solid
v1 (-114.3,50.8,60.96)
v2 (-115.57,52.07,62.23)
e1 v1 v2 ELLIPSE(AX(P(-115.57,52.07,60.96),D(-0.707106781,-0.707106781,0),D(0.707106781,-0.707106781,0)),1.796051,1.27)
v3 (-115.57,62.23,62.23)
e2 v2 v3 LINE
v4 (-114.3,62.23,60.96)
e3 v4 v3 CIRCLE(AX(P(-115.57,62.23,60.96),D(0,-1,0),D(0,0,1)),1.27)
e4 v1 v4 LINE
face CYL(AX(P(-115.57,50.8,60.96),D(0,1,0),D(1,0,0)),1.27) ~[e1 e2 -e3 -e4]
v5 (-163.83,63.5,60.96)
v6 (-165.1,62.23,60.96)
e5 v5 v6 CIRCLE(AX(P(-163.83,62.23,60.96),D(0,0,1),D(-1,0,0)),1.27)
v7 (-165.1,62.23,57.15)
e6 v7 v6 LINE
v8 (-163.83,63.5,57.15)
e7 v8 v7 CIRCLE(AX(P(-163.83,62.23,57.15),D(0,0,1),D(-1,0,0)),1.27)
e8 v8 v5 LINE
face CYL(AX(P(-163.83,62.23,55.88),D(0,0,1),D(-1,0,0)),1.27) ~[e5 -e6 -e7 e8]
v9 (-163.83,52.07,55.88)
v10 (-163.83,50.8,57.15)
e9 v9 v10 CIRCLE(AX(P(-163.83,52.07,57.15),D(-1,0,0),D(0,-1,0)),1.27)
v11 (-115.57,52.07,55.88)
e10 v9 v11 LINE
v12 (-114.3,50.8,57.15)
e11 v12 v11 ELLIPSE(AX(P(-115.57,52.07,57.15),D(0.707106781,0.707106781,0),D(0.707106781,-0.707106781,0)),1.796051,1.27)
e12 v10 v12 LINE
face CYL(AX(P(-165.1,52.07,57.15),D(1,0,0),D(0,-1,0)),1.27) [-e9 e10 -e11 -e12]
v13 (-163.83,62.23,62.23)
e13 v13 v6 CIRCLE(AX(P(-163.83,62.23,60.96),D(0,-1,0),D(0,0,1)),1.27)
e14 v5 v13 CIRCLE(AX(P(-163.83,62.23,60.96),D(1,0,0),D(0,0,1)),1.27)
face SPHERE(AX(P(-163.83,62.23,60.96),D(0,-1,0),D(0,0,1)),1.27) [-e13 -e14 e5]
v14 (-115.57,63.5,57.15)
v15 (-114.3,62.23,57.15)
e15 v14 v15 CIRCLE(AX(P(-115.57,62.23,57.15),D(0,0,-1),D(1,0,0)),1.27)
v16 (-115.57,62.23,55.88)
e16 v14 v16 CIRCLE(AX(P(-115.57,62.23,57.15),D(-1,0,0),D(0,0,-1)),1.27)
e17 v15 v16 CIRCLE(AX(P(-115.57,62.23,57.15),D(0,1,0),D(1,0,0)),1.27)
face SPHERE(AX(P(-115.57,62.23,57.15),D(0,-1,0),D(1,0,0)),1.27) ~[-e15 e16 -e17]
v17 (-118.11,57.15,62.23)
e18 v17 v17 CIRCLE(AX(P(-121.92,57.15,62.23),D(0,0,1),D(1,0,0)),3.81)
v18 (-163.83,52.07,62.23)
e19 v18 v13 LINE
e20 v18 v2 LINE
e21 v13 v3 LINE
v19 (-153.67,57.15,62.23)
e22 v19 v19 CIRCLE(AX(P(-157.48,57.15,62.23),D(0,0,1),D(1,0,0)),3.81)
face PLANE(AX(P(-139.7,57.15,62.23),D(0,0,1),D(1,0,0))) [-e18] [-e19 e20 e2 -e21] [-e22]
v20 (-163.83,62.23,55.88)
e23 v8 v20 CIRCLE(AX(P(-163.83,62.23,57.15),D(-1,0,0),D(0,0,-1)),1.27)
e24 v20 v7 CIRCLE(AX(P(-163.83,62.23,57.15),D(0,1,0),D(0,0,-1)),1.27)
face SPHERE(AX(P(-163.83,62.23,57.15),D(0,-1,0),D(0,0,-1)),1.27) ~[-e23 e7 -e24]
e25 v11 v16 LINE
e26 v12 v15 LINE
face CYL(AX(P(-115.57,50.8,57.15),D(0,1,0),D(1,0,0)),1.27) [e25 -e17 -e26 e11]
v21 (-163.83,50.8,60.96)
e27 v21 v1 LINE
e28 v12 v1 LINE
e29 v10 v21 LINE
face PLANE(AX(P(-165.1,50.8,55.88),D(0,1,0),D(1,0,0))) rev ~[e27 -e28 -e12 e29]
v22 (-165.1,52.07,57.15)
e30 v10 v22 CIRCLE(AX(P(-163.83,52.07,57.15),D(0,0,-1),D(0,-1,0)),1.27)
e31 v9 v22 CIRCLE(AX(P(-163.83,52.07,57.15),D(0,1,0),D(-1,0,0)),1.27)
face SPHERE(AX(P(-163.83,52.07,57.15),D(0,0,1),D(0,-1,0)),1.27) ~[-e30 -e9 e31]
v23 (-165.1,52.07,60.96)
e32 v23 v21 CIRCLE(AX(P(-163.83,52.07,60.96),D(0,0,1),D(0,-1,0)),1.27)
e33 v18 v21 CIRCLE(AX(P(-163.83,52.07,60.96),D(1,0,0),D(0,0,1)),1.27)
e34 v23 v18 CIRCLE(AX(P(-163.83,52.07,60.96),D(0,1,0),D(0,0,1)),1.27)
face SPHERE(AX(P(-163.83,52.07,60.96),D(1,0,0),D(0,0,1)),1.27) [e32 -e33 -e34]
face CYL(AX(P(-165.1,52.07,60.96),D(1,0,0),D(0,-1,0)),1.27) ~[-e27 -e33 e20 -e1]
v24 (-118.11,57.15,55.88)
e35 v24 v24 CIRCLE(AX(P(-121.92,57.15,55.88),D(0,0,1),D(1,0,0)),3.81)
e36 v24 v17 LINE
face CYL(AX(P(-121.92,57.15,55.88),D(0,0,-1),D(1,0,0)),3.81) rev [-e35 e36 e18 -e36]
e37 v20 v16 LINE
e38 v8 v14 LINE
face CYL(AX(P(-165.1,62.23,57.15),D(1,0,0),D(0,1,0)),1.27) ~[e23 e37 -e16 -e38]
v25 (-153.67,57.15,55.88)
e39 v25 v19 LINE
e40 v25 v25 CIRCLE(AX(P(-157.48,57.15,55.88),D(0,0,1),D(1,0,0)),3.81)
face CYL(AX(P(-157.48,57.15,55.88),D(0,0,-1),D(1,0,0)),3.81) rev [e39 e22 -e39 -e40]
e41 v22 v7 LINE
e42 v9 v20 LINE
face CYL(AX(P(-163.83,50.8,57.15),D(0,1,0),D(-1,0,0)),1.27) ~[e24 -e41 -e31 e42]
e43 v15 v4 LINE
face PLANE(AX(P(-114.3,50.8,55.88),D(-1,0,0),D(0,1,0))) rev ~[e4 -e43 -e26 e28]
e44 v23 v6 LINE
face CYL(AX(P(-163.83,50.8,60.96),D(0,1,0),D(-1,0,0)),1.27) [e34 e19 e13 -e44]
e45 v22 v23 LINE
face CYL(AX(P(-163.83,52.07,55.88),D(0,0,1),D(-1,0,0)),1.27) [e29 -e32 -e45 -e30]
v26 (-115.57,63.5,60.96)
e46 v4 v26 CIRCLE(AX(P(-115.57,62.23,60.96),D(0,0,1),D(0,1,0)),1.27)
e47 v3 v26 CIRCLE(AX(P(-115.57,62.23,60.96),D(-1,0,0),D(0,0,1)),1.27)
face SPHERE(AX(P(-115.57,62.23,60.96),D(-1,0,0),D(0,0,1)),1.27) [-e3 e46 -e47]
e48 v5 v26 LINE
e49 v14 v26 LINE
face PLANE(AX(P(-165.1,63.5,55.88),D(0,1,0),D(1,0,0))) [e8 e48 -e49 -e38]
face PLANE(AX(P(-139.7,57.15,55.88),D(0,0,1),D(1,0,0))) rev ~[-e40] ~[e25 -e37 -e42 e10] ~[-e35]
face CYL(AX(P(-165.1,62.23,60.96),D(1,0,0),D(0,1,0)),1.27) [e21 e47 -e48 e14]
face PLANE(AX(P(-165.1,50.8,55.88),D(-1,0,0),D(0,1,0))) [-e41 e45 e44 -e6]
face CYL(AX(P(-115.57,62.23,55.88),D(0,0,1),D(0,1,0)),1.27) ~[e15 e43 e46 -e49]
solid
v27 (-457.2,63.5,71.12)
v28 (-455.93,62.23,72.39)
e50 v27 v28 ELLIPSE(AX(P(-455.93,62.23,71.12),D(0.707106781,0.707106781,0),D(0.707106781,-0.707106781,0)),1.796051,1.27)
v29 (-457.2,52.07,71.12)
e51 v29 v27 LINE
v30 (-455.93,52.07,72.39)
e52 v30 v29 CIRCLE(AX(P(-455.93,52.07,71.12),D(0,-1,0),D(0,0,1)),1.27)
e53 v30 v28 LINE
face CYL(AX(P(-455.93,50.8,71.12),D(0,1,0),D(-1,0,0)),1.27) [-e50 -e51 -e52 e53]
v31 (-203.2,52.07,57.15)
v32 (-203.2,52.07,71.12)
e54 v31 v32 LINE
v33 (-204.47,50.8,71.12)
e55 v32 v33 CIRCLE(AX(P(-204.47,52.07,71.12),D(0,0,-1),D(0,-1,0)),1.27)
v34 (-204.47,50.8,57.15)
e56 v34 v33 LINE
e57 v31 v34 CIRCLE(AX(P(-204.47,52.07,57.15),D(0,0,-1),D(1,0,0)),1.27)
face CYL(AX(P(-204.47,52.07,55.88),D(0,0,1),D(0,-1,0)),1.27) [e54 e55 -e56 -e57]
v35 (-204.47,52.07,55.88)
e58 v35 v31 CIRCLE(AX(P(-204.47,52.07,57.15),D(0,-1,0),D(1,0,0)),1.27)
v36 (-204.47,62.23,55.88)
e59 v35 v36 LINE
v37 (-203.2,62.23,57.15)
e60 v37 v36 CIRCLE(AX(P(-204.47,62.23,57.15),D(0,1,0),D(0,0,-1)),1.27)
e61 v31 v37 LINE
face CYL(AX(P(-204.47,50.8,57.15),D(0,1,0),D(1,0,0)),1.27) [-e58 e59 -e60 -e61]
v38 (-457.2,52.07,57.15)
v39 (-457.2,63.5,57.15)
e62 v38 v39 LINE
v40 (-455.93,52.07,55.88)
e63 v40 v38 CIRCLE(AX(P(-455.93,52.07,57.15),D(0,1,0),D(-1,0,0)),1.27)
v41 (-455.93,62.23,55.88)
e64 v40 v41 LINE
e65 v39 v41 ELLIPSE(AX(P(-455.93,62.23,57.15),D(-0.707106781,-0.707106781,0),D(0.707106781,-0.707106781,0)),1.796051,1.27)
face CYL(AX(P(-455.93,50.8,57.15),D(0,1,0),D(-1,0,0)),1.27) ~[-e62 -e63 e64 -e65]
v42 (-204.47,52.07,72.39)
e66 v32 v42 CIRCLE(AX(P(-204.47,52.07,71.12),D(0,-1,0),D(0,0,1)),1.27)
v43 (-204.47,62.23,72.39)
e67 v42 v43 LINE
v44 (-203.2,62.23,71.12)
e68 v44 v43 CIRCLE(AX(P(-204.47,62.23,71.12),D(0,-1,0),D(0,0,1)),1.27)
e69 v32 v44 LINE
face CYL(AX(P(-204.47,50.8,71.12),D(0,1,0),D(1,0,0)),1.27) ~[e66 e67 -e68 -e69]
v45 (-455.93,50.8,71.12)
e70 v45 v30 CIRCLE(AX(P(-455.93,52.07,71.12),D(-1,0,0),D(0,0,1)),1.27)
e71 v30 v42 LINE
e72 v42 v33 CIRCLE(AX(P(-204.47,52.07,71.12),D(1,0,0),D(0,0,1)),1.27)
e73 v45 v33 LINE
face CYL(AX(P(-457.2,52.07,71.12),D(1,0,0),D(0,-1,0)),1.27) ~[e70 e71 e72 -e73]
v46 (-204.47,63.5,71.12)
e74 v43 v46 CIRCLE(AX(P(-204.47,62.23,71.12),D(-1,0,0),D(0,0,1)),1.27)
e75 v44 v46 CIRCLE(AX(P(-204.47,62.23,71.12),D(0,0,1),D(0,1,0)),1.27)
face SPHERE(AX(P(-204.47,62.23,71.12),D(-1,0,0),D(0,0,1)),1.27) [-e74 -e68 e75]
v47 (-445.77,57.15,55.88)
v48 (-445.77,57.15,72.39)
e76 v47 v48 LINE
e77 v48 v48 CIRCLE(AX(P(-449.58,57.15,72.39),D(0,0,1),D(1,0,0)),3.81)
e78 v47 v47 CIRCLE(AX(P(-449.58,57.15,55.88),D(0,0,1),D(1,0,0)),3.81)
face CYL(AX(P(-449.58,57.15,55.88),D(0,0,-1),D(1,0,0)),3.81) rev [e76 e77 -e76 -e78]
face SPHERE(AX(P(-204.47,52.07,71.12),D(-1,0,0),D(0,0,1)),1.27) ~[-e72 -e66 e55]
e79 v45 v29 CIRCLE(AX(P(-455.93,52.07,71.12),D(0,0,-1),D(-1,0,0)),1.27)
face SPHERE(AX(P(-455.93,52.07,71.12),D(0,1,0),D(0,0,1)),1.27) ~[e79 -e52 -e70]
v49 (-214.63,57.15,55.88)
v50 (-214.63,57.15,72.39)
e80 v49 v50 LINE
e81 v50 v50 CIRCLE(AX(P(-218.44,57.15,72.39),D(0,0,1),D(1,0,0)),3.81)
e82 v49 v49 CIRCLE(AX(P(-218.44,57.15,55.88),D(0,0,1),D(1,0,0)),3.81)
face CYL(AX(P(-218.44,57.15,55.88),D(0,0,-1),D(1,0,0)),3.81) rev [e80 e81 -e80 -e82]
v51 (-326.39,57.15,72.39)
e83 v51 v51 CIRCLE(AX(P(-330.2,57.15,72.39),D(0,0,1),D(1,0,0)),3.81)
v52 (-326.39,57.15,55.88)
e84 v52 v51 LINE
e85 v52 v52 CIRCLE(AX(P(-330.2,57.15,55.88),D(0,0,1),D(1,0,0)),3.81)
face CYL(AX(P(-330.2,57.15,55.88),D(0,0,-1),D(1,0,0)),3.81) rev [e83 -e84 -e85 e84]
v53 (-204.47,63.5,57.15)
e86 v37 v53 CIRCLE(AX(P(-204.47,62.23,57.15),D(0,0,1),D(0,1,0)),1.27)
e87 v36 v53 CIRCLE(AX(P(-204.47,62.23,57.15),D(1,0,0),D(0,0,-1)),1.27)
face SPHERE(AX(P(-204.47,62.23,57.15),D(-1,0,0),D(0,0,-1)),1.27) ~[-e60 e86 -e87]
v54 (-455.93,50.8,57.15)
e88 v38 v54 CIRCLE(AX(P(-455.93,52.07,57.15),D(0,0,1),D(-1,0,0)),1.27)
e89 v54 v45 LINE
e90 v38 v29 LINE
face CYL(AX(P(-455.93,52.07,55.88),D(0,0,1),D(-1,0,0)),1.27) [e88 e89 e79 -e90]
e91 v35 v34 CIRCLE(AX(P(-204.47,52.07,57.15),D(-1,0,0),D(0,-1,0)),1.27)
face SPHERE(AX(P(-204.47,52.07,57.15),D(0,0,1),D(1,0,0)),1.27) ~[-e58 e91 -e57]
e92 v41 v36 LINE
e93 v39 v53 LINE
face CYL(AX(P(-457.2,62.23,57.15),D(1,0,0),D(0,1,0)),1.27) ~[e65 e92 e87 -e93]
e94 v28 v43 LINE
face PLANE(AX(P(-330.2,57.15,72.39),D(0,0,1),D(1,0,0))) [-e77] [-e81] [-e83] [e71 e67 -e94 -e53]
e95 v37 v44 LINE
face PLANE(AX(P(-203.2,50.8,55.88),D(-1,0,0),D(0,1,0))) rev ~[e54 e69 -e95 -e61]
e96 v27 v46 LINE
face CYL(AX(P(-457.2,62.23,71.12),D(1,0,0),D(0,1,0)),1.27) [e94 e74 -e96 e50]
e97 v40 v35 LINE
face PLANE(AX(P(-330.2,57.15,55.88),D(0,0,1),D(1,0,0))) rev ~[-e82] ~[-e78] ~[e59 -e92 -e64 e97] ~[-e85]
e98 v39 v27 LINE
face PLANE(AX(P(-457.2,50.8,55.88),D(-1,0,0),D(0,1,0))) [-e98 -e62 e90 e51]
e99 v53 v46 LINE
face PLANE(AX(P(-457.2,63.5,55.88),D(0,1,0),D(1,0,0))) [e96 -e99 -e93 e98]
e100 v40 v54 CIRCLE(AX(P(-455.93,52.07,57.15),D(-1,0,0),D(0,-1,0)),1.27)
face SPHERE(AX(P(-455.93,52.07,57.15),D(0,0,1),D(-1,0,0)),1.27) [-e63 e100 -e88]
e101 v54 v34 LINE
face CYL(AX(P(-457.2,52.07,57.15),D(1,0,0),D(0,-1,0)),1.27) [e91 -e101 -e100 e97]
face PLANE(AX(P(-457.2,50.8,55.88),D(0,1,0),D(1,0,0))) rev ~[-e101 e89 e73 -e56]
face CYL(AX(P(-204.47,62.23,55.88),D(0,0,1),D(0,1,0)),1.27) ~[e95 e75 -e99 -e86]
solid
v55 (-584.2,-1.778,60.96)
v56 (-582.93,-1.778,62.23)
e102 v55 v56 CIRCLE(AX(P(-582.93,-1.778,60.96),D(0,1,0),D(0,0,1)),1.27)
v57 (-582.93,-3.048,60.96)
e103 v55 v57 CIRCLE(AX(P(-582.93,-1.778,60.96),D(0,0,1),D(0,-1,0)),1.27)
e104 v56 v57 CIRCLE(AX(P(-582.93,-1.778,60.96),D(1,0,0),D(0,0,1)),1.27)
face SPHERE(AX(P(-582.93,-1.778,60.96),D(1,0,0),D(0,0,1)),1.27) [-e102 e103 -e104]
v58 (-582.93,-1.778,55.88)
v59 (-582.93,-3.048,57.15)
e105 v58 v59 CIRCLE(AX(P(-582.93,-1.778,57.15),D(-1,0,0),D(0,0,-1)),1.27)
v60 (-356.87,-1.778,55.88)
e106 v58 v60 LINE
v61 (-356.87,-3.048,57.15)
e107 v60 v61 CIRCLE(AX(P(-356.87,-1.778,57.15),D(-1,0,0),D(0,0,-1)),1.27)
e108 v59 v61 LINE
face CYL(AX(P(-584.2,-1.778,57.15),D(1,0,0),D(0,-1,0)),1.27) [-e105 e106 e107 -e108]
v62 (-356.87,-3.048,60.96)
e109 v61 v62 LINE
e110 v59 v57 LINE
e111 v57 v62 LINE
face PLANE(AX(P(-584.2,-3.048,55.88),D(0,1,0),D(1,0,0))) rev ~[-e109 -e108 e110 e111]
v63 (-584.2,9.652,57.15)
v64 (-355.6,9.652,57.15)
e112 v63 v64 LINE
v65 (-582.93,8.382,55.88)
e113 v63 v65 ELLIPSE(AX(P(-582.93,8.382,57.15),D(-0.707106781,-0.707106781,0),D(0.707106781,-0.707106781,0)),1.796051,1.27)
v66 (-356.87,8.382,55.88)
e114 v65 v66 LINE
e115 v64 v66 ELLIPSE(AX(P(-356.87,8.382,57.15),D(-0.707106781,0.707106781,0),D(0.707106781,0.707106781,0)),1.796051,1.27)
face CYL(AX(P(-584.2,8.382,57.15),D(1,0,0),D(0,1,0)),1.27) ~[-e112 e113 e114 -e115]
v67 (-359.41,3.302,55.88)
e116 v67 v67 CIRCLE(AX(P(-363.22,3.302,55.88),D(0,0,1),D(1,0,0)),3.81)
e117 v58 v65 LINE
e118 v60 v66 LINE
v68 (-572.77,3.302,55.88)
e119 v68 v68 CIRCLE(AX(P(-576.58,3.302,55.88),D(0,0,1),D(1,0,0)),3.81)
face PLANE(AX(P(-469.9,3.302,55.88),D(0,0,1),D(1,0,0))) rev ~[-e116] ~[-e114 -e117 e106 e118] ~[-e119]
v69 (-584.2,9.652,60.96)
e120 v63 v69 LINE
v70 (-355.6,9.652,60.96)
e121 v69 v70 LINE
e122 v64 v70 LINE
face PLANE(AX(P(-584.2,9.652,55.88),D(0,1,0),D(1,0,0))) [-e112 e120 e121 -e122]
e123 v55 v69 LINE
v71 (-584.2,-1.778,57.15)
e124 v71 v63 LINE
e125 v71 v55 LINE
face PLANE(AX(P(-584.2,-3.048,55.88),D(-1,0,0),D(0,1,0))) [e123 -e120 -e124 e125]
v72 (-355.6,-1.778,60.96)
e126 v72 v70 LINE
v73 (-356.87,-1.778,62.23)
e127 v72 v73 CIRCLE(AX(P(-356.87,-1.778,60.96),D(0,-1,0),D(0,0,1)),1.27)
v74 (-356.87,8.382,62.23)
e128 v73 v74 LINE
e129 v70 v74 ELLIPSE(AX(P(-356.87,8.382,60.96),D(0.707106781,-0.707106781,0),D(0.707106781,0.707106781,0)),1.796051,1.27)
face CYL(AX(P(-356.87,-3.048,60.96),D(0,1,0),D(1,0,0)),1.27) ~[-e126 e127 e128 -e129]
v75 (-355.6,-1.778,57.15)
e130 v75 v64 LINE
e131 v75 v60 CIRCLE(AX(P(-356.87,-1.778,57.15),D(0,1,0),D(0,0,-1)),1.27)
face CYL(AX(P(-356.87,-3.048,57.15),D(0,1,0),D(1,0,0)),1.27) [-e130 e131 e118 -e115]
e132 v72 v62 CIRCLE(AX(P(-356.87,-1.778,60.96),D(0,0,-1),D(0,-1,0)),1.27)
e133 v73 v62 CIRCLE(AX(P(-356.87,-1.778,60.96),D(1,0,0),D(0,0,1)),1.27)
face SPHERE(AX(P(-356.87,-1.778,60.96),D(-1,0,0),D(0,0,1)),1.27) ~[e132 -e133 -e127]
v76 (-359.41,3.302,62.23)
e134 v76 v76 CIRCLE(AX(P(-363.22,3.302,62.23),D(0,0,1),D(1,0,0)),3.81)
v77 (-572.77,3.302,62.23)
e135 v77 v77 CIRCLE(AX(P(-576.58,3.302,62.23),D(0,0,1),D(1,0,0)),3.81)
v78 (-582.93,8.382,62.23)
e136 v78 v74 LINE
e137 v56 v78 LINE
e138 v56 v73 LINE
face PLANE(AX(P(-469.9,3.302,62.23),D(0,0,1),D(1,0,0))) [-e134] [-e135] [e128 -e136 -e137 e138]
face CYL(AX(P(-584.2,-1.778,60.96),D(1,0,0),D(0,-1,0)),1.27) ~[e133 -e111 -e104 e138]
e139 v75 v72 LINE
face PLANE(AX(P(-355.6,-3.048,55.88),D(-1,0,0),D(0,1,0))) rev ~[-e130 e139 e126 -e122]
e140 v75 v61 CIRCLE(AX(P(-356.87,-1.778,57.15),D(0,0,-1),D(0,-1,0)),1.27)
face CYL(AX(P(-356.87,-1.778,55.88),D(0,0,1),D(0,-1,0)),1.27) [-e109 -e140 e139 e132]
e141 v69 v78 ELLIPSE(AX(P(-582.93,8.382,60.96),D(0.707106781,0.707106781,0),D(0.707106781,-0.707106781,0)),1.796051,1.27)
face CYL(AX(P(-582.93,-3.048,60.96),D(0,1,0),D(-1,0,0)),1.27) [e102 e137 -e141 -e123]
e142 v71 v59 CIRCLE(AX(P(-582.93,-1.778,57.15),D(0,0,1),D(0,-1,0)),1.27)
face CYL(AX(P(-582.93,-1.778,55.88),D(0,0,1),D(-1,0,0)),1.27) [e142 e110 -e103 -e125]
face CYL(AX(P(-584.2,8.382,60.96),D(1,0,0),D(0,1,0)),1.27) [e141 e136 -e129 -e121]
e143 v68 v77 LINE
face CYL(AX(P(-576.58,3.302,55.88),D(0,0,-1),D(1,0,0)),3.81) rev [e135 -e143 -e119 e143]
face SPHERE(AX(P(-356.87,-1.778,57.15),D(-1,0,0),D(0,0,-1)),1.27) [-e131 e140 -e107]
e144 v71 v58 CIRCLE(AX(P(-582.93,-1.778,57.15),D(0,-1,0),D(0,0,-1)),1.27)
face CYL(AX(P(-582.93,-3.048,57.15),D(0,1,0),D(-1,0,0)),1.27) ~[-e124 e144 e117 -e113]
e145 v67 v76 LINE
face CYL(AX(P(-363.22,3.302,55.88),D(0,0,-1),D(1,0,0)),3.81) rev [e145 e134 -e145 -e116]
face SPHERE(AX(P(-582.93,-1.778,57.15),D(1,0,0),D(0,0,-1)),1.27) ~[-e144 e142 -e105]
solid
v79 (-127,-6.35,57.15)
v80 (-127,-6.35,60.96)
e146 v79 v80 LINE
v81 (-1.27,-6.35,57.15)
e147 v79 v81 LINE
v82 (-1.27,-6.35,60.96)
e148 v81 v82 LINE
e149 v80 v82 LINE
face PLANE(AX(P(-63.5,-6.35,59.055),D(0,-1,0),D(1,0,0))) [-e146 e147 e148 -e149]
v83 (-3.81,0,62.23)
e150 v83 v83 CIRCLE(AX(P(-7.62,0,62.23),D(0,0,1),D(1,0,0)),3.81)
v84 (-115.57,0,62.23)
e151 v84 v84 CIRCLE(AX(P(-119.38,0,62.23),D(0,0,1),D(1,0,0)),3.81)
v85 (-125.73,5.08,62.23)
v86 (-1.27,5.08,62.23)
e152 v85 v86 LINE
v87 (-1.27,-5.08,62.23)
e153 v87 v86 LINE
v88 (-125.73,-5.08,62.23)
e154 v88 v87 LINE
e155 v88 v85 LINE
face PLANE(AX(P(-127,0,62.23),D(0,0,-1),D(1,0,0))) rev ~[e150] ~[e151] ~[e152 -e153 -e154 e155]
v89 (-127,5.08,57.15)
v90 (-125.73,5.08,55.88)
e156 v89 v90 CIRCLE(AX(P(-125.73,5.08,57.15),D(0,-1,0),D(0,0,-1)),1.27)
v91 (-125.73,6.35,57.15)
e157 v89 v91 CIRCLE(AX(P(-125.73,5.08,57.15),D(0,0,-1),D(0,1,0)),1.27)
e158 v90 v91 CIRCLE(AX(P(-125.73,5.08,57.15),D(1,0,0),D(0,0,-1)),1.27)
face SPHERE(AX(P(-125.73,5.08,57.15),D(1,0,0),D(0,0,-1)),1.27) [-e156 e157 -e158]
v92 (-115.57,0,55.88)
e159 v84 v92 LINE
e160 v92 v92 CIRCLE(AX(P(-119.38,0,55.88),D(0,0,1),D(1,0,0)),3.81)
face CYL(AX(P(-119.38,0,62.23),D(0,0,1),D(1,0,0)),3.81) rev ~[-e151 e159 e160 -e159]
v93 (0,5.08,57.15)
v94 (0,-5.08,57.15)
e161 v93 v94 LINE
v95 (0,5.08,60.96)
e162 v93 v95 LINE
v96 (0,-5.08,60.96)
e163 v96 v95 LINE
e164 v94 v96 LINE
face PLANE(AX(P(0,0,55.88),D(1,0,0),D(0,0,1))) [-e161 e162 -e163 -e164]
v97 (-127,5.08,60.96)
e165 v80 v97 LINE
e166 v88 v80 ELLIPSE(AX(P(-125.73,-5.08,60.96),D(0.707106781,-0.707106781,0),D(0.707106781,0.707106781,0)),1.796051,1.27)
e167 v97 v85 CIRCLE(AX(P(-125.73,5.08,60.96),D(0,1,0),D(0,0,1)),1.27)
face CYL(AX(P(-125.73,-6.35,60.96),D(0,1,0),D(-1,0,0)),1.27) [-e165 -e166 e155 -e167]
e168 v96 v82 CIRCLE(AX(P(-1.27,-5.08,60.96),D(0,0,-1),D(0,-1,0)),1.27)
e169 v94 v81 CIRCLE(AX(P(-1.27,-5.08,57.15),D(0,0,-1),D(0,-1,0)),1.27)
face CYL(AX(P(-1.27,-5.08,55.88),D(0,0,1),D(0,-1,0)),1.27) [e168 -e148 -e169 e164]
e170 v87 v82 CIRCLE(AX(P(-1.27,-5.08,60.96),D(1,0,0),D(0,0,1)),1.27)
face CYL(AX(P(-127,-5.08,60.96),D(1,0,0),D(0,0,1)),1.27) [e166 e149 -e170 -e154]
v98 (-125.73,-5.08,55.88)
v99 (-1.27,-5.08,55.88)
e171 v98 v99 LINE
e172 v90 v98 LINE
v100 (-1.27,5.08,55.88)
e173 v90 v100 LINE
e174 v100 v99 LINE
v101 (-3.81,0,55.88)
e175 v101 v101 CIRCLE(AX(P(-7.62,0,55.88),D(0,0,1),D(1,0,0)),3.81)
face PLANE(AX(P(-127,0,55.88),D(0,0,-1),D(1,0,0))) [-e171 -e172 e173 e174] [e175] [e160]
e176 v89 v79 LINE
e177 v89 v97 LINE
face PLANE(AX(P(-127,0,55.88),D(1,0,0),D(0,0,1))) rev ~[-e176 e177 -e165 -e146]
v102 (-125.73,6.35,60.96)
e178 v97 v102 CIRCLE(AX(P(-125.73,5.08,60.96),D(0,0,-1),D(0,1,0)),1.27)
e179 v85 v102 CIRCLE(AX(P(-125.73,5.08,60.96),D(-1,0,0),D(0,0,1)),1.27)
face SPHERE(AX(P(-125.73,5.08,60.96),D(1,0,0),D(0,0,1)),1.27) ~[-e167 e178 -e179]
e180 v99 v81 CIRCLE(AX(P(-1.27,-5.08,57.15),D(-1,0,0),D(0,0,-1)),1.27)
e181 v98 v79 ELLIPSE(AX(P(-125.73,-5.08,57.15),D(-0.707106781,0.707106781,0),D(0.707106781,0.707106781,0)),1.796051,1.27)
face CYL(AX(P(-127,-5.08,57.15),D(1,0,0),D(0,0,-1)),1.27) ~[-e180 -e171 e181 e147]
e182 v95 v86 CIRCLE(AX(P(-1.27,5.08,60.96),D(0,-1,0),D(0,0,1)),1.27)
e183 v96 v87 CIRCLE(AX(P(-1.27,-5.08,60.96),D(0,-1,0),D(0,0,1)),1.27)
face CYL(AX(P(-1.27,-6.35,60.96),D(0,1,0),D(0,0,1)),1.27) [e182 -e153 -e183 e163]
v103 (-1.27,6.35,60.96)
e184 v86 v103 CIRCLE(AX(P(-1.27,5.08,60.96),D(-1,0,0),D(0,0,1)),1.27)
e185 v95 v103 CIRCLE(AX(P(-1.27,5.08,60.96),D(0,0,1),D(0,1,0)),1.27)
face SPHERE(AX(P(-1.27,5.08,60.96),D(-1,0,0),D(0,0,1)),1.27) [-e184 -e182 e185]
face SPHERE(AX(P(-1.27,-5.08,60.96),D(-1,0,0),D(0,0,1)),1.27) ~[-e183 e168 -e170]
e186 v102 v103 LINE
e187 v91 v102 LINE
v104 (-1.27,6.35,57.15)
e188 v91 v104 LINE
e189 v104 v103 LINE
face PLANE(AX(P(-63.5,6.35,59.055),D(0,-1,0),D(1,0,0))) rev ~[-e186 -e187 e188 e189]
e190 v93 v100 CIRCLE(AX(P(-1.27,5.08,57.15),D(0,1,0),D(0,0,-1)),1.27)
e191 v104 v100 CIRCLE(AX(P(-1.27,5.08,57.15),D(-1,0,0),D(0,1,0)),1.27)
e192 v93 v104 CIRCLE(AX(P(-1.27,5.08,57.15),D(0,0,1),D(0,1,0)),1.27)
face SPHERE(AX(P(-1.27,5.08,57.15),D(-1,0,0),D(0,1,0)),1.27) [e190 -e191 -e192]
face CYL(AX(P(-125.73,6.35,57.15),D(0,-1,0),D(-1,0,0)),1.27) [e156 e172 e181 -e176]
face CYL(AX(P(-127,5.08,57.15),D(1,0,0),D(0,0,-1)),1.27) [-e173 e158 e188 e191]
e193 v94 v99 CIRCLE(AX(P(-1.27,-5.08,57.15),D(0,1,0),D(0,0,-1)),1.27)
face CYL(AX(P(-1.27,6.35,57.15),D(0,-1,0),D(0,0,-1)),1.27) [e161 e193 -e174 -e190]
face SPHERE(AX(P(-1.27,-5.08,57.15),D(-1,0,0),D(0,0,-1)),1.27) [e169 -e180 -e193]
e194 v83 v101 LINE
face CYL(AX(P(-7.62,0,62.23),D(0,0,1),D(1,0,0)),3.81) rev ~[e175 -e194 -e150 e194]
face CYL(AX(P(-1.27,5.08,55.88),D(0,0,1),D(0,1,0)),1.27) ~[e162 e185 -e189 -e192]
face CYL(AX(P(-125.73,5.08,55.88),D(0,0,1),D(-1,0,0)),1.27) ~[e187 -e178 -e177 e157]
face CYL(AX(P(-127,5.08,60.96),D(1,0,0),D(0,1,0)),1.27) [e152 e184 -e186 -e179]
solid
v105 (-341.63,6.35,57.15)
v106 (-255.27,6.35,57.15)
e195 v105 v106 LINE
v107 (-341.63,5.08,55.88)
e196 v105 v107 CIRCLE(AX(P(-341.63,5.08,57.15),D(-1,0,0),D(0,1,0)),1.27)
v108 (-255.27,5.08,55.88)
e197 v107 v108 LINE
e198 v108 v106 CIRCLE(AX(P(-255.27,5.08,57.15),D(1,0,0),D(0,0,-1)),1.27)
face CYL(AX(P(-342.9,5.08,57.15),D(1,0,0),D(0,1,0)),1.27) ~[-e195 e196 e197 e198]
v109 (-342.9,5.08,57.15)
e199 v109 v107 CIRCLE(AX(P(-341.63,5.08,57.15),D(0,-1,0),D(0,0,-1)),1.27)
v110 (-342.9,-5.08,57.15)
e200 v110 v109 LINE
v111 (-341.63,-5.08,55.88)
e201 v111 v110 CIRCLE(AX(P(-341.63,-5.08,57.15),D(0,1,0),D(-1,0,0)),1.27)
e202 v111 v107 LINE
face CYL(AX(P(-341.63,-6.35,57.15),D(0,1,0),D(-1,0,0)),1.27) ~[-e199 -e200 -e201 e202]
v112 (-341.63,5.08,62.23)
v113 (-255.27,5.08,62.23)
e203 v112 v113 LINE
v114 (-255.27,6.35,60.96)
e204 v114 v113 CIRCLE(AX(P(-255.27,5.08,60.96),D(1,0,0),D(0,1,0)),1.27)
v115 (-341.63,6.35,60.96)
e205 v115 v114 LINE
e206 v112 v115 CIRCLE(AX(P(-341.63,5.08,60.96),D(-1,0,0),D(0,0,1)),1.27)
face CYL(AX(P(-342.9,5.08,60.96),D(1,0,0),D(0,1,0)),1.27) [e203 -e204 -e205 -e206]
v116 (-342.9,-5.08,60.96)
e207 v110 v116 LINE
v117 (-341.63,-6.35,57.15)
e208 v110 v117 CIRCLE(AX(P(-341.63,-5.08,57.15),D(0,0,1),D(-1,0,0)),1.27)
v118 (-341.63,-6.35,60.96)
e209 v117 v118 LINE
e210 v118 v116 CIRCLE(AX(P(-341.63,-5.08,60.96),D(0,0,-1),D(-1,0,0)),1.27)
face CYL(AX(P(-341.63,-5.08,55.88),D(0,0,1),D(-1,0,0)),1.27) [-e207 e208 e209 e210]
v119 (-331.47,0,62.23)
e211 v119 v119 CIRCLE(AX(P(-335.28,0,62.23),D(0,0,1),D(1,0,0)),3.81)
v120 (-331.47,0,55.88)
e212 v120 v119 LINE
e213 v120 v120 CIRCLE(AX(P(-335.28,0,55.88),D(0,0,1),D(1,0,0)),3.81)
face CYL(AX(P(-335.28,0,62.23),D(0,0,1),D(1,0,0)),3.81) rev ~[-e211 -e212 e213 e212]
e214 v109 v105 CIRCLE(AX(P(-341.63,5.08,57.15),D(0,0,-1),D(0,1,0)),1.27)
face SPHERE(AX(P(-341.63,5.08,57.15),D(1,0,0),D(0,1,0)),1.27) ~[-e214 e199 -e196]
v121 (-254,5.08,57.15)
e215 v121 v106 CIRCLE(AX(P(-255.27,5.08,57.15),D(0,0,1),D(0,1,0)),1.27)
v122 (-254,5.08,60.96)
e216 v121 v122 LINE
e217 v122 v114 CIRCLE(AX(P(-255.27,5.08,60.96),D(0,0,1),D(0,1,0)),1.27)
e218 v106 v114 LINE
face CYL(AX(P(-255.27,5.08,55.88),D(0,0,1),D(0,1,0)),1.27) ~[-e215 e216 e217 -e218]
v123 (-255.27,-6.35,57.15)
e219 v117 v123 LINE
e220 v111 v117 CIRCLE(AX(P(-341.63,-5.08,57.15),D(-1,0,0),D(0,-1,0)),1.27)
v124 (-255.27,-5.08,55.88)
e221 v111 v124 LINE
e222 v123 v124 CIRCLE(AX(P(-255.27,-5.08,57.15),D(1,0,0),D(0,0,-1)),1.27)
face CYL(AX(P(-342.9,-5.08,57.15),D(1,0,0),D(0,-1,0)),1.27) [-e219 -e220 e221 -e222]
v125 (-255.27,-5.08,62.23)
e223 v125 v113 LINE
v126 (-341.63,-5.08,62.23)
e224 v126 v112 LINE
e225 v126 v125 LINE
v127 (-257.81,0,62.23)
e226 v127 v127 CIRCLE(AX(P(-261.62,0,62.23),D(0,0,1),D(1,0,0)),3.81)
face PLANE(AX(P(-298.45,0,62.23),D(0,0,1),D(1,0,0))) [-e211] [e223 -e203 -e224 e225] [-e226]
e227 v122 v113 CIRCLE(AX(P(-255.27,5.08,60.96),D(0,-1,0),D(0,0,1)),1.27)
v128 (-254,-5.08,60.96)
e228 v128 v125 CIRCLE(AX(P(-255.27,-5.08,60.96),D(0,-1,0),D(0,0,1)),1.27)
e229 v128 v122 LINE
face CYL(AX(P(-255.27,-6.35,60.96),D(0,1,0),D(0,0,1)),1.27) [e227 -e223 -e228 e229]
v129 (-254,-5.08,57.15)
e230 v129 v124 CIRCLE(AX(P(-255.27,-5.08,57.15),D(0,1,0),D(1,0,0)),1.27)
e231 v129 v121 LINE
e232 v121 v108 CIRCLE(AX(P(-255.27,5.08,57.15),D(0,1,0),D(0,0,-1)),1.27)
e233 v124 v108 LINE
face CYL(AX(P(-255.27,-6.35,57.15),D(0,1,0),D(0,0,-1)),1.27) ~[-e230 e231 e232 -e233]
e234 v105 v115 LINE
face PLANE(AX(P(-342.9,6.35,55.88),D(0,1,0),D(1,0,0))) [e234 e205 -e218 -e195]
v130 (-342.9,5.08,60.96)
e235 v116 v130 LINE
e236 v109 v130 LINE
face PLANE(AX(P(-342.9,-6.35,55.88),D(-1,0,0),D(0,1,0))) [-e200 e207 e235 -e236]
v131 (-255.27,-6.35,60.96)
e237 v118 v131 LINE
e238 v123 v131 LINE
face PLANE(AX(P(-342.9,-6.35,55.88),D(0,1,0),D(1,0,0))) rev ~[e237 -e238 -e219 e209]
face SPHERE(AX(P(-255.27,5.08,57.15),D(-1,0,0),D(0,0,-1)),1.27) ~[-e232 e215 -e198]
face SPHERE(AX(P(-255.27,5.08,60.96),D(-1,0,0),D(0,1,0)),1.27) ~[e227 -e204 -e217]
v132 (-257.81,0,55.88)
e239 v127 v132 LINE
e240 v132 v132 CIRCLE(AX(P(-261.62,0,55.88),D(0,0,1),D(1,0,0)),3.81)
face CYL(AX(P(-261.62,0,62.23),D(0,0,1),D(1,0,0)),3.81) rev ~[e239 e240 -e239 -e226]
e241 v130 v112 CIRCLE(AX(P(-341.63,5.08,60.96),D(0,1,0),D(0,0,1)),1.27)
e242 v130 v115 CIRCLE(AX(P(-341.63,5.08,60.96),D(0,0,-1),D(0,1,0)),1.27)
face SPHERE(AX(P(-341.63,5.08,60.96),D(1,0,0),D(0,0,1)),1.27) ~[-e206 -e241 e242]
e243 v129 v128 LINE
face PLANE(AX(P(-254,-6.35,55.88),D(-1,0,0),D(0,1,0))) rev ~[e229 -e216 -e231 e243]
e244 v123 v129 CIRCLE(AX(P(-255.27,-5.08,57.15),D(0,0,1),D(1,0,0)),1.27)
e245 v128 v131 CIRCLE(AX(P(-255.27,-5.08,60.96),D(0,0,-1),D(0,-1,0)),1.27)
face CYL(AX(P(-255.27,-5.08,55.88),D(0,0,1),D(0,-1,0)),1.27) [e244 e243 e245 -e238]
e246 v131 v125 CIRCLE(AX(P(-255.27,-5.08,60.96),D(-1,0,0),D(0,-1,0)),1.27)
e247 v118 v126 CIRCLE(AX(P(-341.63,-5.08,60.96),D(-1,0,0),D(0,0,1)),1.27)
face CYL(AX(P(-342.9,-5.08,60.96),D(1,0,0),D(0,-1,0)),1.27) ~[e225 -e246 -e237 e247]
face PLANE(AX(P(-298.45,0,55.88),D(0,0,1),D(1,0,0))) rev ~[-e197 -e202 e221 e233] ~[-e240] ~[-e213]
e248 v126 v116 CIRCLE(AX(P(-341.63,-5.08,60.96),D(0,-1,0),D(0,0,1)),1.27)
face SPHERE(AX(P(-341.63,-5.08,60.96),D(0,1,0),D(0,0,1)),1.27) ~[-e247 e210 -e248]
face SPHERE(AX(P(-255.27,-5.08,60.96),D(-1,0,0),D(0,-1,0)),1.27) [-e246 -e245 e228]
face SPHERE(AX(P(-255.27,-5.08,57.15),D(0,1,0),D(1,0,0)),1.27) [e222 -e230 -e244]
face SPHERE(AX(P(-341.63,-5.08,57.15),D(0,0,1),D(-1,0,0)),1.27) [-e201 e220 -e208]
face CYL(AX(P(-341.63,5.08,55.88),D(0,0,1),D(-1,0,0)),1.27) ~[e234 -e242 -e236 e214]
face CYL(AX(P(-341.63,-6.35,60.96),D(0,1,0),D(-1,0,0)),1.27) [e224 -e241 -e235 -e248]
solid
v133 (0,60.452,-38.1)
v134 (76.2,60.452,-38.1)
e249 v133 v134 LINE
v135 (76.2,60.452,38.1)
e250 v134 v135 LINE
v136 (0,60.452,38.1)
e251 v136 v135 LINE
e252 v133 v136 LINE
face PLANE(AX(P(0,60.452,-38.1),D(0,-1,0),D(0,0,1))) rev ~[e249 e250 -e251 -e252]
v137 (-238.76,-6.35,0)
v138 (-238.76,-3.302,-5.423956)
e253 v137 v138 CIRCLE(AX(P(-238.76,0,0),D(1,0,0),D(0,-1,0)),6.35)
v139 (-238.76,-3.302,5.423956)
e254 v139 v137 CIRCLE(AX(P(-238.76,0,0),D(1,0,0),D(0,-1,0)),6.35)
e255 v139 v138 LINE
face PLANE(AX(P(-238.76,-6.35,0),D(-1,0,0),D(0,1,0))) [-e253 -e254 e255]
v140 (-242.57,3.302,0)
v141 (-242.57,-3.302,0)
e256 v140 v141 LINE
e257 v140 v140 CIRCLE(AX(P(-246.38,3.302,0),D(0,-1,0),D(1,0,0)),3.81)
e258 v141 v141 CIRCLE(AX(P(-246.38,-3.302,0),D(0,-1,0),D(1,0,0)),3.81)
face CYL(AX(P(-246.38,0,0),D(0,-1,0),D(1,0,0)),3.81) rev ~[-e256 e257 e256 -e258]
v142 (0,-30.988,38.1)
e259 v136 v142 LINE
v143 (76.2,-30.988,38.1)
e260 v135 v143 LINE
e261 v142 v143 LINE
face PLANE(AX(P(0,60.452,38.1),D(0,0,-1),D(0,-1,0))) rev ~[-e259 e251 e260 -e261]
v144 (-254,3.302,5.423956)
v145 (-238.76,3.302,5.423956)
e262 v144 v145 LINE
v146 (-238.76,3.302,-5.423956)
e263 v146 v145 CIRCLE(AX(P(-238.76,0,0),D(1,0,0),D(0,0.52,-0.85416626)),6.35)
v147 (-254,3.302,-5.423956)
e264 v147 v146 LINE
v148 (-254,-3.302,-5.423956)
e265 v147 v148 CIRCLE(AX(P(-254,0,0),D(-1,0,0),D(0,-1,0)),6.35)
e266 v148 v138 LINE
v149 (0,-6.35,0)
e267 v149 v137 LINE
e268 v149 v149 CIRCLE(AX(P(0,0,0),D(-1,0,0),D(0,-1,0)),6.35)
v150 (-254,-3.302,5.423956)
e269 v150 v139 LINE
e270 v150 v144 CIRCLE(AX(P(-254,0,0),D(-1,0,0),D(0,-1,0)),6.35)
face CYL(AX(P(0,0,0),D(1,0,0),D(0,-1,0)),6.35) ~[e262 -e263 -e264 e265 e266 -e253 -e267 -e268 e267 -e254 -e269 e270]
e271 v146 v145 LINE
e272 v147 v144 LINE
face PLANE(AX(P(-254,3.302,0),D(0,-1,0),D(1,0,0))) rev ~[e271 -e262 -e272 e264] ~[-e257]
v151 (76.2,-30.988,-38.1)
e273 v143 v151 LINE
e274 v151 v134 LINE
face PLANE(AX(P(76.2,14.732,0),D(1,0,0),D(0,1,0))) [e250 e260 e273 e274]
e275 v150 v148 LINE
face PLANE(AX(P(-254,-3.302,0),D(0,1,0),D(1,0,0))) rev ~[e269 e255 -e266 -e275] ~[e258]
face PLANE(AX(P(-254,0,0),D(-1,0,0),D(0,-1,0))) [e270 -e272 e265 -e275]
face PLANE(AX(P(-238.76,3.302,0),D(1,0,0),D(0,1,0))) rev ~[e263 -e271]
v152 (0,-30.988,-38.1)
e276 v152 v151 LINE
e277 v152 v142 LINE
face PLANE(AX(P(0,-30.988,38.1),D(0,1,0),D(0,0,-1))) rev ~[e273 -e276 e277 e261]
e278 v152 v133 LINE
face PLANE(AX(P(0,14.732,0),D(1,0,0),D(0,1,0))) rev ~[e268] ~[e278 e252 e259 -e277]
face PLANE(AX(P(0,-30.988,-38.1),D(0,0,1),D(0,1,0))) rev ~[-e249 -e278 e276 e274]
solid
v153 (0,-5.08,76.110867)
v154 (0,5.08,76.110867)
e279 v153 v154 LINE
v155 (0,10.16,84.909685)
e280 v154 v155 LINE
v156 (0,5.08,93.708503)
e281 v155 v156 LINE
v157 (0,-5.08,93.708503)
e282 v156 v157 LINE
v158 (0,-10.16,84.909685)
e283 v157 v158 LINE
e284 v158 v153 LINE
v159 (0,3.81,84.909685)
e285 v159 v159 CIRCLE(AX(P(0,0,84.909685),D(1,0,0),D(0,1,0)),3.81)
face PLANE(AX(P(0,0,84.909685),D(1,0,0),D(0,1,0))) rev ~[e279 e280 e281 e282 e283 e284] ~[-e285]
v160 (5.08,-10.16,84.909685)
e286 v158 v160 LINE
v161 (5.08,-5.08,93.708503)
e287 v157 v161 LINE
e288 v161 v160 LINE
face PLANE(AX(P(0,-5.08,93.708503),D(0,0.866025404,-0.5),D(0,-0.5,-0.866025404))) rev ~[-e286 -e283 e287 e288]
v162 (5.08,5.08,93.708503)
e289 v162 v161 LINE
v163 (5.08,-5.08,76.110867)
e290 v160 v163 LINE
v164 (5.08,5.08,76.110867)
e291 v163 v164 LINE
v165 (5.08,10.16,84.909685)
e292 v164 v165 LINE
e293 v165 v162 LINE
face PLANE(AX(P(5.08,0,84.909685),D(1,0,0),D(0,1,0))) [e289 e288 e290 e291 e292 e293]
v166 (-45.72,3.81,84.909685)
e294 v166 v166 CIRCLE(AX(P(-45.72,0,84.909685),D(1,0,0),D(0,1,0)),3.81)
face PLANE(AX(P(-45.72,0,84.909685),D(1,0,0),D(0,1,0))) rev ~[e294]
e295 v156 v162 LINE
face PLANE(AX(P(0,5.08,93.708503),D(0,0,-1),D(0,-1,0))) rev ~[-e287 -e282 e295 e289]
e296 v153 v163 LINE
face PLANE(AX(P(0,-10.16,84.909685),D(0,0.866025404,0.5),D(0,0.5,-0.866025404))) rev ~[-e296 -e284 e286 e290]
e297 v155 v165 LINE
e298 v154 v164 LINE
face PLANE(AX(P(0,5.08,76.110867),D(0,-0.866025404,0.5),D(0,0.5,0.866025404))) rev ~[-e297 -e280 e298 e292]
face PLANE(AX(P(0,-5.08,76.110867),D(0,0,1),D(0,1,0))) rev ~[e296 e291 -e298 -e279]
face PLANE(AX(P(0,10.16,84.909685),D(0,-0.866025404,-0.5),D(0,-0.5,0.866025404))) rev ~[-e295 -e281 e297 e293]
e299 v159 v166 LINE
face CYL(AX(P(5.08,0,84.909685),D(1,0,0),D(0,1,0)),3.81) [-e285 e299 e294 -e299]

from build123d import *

# Parameters (mm, degrees)
F0_R      = 30.988
F1_DEPTH  = 76.2
F2_R      = 6.35
F3_DEPTH  = 254
F4_R      = 3.81
F5_DEPTH  = 12.7
F6_W      = 15.24
F6_H      = 3.048
F7_DEPTH  = 12.7
F12_DEPTH = 5.08
F13_R     = 3.81
F14_DEPTH = 50.8
F8_W      = 127
F8_H      = 6.35
F15_DEPTH = 6.35
F16_R     = 3.81
F17_DEPTH = 12.7
F18_W     = 88.9
F18_H     = 12.7
F19_DEPTH = 6.35
F20_R     = 3.81
F21_DEPTH = 6.35
F22_W     = 228.6
F22_H     = 12.7
F22_R     = 3.81
F23_DEPTH = 6.35
F24_W     = 254
F24_H     = 12.7
F24_R     = 3.81
F25_DEPTH = 16.51
F26_W     = 50.8
F26_H     = 12.7
F26_R     = 3.81
F27_DEPTH = 6.35
F28_R     = 1.27
F29_R     = 1.27
F30_R     = 1.27
F30_2_R   = 1.27
F30_3_R   = 1.27
F32_DEPTH = 76.2


with BuildPart() as f1:
    # F0 (on Right) → F1 (new body)
    with BuildSketch(Plane.YZ):
        Circle(F0_R)
    extrude(amount=F1_DEPTH)

    # F2 (on face) → F3 (join)
    with BuildSketch(Plane(origin=(0, 0, 0), x_dir=(0, -1, 0), z_dir=(-1, 0, 0))):
        Circle(F2_R)
    extrude(amount=F3_DEPTH)

    # F4 (on Front) → F5 (cut, symmetric)
    with BuildSketch(Plane.XZ):
        with Locations((-246.38, 0)):
            Circle(F4_R)
    extrude(amount=F5_DEPTH, both=True, mode=Mode.SUBTRACT)

    # F6 (on Top) → F7 (cut, symmetric)
    with BuildSketch(Plane.XY):
        with Locations((-246.38, -4.826)):
            Rectangle(F6_W, F6_H)
        with Locations((-246.38, 4.826)):
            Rectangle(F6_W, F6_H)
    extrude(amount=F7_DEPTH, both=True, mode=Mode.SUBTRACT)

    # F31 (on Right) → F32 (join)
    with BuildSketch(Plane.YZ):
        Polygon((-30.988, 38.1), (-30.988, -4.05e-08), (-30.988, -38.1), (60.452, -38.1), (60.452, 38.1), align=None)
        with BuildLine():
            ThreePointArc((-30.988, -4.05e-08), (-2.03e-08, 30.988), (30.988, 0))
            ThreePointArc((30.988, 0), (2.03e-08, -30.988), (-30.988, -4.05e-08))
        make_face(mode=Mode.SUBTRACT)
        with BuildLine():
            ThreePointArc((-30.988, -4.05e-08), (2.03e-08, -30.988), (30.988, 0))
            ThreePointArc((30.988, 0), (-2.03e-08, 30.988), (-30.988, -4.05e-08))
        make_face()
    extrude(amount=F32_DEPTH)


with BuildPart() as f12:
    # F11 (on Right) → F12 (new body)
    with BuildSketch(Plane.YZ):
        Polygon((-5.08, 76.1108668536), (5.08, 76.1108668536), (10.16, 84.9096849561), (5.08, 93.7085030585), (-5.08, 93.7085030585), (-10.16, 84.9096849561), align=None)
    extrude(amount=F12_DEPTH)

    # F13 (on face) → F14 (join)
    with BuildSketch(Plane.YZ.offset(5.08)):
        with Locations((0, 84.9096849561)):
            Circle(F13_R)
    extrude(amount=-F14_DEPTH)


with BuildPart() as f15:
    # F8 (on Front) → F15 (new body, symmetric)
    with BuildSketch(Plane.XZ):
        with Locations((-63.5, 59.055)):
            Rectangle(F8_W, F8_H)
    extrude(amount=F15_DEPTH, both=True)

    # F16 (on face) → F17 (cut)
    with BuildSketch(Plane.XY.offset(62.23)):
        with Locations((-119.38, 0)):
            Circle(F16_R)
        with Locations((-7.62, 0)):
            Circle(F16_R)
    extrude(amount=-F17_DEPTH, mode=Mode.SUBTRACT)

    # F29
    f29_edges = [f15.edges().sort_by_distance(p)[0] for p in [
        (-63.5, 6.35, 62.23),
        (-63.5, -6.35, 62.23),
        (0, 0, 62.23),
        (-127, 0, 62.23),
        (-63.5, -6.35, 55.88),
        (-63.5, 6.35, 55.88),
        (-127, 0, 55.88),
        (0, 6.35, 59.055),
        (0, 0, 55.88),
        (-127, 6.35, 59.055),
        (0, -6.35, 59.055),
    ]]
    fillet(f29_edges, radius=F29_R)


with BuildPart() as f19:
    # F18 (on offset) → F19 (new body)
    with BuildSketch(Plane.XY.offset(55.88)):
        with Locations((-298.45, 0)):
            Rectangle(F18_W, F18_H)
    extrude(amount=F19_DEPTH)

    # F20 (on face) → F21 (cut, symmetric)
    with BuildSketch(Plane.XY.offset(62.23)):
        with Locations((-261.62, 0)):
            Circle(F20_R)
        with Locations((-335.28, 0)):
            Circle(F20_R)
    extrude(amount=F21_DEPTH, both=True, mode=Mode.SUBTRACT)

    # F30#2
    f30_2_edges = [f19.edges().sort_by_distance(p)[0] for p in [
        (-298.45, 6.35, 62.23),
        (-298.45, 6.35, 55.88),
        (-342.9, 0, 62.23),
        (-298.45, -6.35, 62.23),
        (-254, 0, 55.88),
        (-254, -6.35, 59.055),
        (-254, 6.35, 59.055),
        (-254, 0, 62.23),
        (-342.9, 6.35, 59.055),
        (-342.9, -6.35, 59.055),
        (-342.9, 0, 55.88),
        (-298.45, -6.35, 55.88),
    ]]
    fillet(f30_2_edges, radius=F30_2_R)


with BuildPart() as f23:
    # F22 (on offset) → F23 (new body)
    with BuildSketch(Plane.XY.offset(55.88)):
        with Locations((-469.9, 3.302)):
            Rectangle(F22_W, F22_H)
        with Locations((-576.58, 3.302)):
            Circle(F22_R, mode=Mode.SUBTRACT)
        with Locations((-363.22, 3.302)):
            Circle(F22_R, mode=Mode.SUBTRACT)
    extrude(amount=F23_DEPTH)

    # F30#3
    f30_3_edges = [f23.edges().sort_by_distance(p)[0] for p in [
        (-469.9, -3.048, 62.23),
        (-469.9, -3.048, 55.88),
        (-469.9, 9.652, 62.23),
        (-469.9, 9.652, 55.88),
        (-584.2, 3.302, 62.23),
        (-584.2, 3.302, 55.88),
        (-355.6, 3.302, 62.23),
        (-355.6, 3.302, 55.88),
        (-355.6, -3.048, 59.055),
        (-584.2, -3.048, 59.055),
    ]]
    fillet(f30_3_edges, radius=F30_3_R)


with BuildPart() as f25:
    # F24 (on offset) → F25 (new body)
    with BuildSketch(Plane.XY.offset(55.88)):
        with Locations((-330.2, 57.15)):
            Rectangle(F24_W, F24_H)
        with Locations((-449.58, 57.15)):
            Circle(F24_R, mode=Mode.SUBTRACT)
        with Locations((-330.2, 57.15)):
            Circle(F24_R, mode=Mode.SUBTRACT)
        with Locations((-218.44, 57.15)):
            Circle(F24_R, mode=Mode.SUBTRACT)
    extrude(amount=F25_DEPTH)

    # F30
    f30_edges = [f25.edges().sort_by_distance(p)[0] for p in [
        (-330.2, 63.5, 72.39),
        (-330.2, 63.5, 55.88),
        (-457.2, 57.15, 72.39),
        (-330.2, 50.8, 72.39),
        (-203.2, 57.15, 72.39),
        (-203.2, 50.8, 64.135),
        (-203.2, 57.15, 55.88),
        (-203.2, 63.5, 64.135),
        (-457.2, 50.8, 64.135),
        (-457.2, 57.15, 55.88),
        (-330.2, 50.8, 55.88),
    ]]
    fillet(f30_edges, radius=F30_R)


with BuildPart() as f27:
    # F26 (on offset) → F27 (new body)
    with BuildSketch(Plane.XY.offset(55.88)):
        with Locations((-139.7, 57.15)):
            Rectangle(F26_W, F26_H)
        with Locations((-157.48, 57.15)):
            Circle(F26_R, mode=Mode.SUBTRACT)
        with Locations((-121.92, 57.15)):
            Circle(F26_R, mode=Mode.SUBTRACT)
    extrude(amount=F27_DEPTH)

    # F28
    f28_edges = [f27.edges().sort_by_distance(p)[0] for p in [
        (-139.7, 50.8, 62.23),
        (-165.1, 57.15, 62.23),
        (-139.7, 63.5, 62.23),
        (-114.3, 57.15, 62.23),
        (-165.1, 50.8, 59.055),
        (-139.7, 50.8, 55.88),
        (-165.1, 57.15, 55.88),
        (-114.3, 57.15, 55.88),
        (-114.3, 63.5, 59.055),
        (-139.7, 63.5, 55.88),
        (-165.1, 63.5, 59.055),
    ]]
    fillet(f28_edges, radius=F28_R)


solid = Compound([f1.part, f12.part, f15.part, f19.part, f23.part, f25.part, f27.part])
